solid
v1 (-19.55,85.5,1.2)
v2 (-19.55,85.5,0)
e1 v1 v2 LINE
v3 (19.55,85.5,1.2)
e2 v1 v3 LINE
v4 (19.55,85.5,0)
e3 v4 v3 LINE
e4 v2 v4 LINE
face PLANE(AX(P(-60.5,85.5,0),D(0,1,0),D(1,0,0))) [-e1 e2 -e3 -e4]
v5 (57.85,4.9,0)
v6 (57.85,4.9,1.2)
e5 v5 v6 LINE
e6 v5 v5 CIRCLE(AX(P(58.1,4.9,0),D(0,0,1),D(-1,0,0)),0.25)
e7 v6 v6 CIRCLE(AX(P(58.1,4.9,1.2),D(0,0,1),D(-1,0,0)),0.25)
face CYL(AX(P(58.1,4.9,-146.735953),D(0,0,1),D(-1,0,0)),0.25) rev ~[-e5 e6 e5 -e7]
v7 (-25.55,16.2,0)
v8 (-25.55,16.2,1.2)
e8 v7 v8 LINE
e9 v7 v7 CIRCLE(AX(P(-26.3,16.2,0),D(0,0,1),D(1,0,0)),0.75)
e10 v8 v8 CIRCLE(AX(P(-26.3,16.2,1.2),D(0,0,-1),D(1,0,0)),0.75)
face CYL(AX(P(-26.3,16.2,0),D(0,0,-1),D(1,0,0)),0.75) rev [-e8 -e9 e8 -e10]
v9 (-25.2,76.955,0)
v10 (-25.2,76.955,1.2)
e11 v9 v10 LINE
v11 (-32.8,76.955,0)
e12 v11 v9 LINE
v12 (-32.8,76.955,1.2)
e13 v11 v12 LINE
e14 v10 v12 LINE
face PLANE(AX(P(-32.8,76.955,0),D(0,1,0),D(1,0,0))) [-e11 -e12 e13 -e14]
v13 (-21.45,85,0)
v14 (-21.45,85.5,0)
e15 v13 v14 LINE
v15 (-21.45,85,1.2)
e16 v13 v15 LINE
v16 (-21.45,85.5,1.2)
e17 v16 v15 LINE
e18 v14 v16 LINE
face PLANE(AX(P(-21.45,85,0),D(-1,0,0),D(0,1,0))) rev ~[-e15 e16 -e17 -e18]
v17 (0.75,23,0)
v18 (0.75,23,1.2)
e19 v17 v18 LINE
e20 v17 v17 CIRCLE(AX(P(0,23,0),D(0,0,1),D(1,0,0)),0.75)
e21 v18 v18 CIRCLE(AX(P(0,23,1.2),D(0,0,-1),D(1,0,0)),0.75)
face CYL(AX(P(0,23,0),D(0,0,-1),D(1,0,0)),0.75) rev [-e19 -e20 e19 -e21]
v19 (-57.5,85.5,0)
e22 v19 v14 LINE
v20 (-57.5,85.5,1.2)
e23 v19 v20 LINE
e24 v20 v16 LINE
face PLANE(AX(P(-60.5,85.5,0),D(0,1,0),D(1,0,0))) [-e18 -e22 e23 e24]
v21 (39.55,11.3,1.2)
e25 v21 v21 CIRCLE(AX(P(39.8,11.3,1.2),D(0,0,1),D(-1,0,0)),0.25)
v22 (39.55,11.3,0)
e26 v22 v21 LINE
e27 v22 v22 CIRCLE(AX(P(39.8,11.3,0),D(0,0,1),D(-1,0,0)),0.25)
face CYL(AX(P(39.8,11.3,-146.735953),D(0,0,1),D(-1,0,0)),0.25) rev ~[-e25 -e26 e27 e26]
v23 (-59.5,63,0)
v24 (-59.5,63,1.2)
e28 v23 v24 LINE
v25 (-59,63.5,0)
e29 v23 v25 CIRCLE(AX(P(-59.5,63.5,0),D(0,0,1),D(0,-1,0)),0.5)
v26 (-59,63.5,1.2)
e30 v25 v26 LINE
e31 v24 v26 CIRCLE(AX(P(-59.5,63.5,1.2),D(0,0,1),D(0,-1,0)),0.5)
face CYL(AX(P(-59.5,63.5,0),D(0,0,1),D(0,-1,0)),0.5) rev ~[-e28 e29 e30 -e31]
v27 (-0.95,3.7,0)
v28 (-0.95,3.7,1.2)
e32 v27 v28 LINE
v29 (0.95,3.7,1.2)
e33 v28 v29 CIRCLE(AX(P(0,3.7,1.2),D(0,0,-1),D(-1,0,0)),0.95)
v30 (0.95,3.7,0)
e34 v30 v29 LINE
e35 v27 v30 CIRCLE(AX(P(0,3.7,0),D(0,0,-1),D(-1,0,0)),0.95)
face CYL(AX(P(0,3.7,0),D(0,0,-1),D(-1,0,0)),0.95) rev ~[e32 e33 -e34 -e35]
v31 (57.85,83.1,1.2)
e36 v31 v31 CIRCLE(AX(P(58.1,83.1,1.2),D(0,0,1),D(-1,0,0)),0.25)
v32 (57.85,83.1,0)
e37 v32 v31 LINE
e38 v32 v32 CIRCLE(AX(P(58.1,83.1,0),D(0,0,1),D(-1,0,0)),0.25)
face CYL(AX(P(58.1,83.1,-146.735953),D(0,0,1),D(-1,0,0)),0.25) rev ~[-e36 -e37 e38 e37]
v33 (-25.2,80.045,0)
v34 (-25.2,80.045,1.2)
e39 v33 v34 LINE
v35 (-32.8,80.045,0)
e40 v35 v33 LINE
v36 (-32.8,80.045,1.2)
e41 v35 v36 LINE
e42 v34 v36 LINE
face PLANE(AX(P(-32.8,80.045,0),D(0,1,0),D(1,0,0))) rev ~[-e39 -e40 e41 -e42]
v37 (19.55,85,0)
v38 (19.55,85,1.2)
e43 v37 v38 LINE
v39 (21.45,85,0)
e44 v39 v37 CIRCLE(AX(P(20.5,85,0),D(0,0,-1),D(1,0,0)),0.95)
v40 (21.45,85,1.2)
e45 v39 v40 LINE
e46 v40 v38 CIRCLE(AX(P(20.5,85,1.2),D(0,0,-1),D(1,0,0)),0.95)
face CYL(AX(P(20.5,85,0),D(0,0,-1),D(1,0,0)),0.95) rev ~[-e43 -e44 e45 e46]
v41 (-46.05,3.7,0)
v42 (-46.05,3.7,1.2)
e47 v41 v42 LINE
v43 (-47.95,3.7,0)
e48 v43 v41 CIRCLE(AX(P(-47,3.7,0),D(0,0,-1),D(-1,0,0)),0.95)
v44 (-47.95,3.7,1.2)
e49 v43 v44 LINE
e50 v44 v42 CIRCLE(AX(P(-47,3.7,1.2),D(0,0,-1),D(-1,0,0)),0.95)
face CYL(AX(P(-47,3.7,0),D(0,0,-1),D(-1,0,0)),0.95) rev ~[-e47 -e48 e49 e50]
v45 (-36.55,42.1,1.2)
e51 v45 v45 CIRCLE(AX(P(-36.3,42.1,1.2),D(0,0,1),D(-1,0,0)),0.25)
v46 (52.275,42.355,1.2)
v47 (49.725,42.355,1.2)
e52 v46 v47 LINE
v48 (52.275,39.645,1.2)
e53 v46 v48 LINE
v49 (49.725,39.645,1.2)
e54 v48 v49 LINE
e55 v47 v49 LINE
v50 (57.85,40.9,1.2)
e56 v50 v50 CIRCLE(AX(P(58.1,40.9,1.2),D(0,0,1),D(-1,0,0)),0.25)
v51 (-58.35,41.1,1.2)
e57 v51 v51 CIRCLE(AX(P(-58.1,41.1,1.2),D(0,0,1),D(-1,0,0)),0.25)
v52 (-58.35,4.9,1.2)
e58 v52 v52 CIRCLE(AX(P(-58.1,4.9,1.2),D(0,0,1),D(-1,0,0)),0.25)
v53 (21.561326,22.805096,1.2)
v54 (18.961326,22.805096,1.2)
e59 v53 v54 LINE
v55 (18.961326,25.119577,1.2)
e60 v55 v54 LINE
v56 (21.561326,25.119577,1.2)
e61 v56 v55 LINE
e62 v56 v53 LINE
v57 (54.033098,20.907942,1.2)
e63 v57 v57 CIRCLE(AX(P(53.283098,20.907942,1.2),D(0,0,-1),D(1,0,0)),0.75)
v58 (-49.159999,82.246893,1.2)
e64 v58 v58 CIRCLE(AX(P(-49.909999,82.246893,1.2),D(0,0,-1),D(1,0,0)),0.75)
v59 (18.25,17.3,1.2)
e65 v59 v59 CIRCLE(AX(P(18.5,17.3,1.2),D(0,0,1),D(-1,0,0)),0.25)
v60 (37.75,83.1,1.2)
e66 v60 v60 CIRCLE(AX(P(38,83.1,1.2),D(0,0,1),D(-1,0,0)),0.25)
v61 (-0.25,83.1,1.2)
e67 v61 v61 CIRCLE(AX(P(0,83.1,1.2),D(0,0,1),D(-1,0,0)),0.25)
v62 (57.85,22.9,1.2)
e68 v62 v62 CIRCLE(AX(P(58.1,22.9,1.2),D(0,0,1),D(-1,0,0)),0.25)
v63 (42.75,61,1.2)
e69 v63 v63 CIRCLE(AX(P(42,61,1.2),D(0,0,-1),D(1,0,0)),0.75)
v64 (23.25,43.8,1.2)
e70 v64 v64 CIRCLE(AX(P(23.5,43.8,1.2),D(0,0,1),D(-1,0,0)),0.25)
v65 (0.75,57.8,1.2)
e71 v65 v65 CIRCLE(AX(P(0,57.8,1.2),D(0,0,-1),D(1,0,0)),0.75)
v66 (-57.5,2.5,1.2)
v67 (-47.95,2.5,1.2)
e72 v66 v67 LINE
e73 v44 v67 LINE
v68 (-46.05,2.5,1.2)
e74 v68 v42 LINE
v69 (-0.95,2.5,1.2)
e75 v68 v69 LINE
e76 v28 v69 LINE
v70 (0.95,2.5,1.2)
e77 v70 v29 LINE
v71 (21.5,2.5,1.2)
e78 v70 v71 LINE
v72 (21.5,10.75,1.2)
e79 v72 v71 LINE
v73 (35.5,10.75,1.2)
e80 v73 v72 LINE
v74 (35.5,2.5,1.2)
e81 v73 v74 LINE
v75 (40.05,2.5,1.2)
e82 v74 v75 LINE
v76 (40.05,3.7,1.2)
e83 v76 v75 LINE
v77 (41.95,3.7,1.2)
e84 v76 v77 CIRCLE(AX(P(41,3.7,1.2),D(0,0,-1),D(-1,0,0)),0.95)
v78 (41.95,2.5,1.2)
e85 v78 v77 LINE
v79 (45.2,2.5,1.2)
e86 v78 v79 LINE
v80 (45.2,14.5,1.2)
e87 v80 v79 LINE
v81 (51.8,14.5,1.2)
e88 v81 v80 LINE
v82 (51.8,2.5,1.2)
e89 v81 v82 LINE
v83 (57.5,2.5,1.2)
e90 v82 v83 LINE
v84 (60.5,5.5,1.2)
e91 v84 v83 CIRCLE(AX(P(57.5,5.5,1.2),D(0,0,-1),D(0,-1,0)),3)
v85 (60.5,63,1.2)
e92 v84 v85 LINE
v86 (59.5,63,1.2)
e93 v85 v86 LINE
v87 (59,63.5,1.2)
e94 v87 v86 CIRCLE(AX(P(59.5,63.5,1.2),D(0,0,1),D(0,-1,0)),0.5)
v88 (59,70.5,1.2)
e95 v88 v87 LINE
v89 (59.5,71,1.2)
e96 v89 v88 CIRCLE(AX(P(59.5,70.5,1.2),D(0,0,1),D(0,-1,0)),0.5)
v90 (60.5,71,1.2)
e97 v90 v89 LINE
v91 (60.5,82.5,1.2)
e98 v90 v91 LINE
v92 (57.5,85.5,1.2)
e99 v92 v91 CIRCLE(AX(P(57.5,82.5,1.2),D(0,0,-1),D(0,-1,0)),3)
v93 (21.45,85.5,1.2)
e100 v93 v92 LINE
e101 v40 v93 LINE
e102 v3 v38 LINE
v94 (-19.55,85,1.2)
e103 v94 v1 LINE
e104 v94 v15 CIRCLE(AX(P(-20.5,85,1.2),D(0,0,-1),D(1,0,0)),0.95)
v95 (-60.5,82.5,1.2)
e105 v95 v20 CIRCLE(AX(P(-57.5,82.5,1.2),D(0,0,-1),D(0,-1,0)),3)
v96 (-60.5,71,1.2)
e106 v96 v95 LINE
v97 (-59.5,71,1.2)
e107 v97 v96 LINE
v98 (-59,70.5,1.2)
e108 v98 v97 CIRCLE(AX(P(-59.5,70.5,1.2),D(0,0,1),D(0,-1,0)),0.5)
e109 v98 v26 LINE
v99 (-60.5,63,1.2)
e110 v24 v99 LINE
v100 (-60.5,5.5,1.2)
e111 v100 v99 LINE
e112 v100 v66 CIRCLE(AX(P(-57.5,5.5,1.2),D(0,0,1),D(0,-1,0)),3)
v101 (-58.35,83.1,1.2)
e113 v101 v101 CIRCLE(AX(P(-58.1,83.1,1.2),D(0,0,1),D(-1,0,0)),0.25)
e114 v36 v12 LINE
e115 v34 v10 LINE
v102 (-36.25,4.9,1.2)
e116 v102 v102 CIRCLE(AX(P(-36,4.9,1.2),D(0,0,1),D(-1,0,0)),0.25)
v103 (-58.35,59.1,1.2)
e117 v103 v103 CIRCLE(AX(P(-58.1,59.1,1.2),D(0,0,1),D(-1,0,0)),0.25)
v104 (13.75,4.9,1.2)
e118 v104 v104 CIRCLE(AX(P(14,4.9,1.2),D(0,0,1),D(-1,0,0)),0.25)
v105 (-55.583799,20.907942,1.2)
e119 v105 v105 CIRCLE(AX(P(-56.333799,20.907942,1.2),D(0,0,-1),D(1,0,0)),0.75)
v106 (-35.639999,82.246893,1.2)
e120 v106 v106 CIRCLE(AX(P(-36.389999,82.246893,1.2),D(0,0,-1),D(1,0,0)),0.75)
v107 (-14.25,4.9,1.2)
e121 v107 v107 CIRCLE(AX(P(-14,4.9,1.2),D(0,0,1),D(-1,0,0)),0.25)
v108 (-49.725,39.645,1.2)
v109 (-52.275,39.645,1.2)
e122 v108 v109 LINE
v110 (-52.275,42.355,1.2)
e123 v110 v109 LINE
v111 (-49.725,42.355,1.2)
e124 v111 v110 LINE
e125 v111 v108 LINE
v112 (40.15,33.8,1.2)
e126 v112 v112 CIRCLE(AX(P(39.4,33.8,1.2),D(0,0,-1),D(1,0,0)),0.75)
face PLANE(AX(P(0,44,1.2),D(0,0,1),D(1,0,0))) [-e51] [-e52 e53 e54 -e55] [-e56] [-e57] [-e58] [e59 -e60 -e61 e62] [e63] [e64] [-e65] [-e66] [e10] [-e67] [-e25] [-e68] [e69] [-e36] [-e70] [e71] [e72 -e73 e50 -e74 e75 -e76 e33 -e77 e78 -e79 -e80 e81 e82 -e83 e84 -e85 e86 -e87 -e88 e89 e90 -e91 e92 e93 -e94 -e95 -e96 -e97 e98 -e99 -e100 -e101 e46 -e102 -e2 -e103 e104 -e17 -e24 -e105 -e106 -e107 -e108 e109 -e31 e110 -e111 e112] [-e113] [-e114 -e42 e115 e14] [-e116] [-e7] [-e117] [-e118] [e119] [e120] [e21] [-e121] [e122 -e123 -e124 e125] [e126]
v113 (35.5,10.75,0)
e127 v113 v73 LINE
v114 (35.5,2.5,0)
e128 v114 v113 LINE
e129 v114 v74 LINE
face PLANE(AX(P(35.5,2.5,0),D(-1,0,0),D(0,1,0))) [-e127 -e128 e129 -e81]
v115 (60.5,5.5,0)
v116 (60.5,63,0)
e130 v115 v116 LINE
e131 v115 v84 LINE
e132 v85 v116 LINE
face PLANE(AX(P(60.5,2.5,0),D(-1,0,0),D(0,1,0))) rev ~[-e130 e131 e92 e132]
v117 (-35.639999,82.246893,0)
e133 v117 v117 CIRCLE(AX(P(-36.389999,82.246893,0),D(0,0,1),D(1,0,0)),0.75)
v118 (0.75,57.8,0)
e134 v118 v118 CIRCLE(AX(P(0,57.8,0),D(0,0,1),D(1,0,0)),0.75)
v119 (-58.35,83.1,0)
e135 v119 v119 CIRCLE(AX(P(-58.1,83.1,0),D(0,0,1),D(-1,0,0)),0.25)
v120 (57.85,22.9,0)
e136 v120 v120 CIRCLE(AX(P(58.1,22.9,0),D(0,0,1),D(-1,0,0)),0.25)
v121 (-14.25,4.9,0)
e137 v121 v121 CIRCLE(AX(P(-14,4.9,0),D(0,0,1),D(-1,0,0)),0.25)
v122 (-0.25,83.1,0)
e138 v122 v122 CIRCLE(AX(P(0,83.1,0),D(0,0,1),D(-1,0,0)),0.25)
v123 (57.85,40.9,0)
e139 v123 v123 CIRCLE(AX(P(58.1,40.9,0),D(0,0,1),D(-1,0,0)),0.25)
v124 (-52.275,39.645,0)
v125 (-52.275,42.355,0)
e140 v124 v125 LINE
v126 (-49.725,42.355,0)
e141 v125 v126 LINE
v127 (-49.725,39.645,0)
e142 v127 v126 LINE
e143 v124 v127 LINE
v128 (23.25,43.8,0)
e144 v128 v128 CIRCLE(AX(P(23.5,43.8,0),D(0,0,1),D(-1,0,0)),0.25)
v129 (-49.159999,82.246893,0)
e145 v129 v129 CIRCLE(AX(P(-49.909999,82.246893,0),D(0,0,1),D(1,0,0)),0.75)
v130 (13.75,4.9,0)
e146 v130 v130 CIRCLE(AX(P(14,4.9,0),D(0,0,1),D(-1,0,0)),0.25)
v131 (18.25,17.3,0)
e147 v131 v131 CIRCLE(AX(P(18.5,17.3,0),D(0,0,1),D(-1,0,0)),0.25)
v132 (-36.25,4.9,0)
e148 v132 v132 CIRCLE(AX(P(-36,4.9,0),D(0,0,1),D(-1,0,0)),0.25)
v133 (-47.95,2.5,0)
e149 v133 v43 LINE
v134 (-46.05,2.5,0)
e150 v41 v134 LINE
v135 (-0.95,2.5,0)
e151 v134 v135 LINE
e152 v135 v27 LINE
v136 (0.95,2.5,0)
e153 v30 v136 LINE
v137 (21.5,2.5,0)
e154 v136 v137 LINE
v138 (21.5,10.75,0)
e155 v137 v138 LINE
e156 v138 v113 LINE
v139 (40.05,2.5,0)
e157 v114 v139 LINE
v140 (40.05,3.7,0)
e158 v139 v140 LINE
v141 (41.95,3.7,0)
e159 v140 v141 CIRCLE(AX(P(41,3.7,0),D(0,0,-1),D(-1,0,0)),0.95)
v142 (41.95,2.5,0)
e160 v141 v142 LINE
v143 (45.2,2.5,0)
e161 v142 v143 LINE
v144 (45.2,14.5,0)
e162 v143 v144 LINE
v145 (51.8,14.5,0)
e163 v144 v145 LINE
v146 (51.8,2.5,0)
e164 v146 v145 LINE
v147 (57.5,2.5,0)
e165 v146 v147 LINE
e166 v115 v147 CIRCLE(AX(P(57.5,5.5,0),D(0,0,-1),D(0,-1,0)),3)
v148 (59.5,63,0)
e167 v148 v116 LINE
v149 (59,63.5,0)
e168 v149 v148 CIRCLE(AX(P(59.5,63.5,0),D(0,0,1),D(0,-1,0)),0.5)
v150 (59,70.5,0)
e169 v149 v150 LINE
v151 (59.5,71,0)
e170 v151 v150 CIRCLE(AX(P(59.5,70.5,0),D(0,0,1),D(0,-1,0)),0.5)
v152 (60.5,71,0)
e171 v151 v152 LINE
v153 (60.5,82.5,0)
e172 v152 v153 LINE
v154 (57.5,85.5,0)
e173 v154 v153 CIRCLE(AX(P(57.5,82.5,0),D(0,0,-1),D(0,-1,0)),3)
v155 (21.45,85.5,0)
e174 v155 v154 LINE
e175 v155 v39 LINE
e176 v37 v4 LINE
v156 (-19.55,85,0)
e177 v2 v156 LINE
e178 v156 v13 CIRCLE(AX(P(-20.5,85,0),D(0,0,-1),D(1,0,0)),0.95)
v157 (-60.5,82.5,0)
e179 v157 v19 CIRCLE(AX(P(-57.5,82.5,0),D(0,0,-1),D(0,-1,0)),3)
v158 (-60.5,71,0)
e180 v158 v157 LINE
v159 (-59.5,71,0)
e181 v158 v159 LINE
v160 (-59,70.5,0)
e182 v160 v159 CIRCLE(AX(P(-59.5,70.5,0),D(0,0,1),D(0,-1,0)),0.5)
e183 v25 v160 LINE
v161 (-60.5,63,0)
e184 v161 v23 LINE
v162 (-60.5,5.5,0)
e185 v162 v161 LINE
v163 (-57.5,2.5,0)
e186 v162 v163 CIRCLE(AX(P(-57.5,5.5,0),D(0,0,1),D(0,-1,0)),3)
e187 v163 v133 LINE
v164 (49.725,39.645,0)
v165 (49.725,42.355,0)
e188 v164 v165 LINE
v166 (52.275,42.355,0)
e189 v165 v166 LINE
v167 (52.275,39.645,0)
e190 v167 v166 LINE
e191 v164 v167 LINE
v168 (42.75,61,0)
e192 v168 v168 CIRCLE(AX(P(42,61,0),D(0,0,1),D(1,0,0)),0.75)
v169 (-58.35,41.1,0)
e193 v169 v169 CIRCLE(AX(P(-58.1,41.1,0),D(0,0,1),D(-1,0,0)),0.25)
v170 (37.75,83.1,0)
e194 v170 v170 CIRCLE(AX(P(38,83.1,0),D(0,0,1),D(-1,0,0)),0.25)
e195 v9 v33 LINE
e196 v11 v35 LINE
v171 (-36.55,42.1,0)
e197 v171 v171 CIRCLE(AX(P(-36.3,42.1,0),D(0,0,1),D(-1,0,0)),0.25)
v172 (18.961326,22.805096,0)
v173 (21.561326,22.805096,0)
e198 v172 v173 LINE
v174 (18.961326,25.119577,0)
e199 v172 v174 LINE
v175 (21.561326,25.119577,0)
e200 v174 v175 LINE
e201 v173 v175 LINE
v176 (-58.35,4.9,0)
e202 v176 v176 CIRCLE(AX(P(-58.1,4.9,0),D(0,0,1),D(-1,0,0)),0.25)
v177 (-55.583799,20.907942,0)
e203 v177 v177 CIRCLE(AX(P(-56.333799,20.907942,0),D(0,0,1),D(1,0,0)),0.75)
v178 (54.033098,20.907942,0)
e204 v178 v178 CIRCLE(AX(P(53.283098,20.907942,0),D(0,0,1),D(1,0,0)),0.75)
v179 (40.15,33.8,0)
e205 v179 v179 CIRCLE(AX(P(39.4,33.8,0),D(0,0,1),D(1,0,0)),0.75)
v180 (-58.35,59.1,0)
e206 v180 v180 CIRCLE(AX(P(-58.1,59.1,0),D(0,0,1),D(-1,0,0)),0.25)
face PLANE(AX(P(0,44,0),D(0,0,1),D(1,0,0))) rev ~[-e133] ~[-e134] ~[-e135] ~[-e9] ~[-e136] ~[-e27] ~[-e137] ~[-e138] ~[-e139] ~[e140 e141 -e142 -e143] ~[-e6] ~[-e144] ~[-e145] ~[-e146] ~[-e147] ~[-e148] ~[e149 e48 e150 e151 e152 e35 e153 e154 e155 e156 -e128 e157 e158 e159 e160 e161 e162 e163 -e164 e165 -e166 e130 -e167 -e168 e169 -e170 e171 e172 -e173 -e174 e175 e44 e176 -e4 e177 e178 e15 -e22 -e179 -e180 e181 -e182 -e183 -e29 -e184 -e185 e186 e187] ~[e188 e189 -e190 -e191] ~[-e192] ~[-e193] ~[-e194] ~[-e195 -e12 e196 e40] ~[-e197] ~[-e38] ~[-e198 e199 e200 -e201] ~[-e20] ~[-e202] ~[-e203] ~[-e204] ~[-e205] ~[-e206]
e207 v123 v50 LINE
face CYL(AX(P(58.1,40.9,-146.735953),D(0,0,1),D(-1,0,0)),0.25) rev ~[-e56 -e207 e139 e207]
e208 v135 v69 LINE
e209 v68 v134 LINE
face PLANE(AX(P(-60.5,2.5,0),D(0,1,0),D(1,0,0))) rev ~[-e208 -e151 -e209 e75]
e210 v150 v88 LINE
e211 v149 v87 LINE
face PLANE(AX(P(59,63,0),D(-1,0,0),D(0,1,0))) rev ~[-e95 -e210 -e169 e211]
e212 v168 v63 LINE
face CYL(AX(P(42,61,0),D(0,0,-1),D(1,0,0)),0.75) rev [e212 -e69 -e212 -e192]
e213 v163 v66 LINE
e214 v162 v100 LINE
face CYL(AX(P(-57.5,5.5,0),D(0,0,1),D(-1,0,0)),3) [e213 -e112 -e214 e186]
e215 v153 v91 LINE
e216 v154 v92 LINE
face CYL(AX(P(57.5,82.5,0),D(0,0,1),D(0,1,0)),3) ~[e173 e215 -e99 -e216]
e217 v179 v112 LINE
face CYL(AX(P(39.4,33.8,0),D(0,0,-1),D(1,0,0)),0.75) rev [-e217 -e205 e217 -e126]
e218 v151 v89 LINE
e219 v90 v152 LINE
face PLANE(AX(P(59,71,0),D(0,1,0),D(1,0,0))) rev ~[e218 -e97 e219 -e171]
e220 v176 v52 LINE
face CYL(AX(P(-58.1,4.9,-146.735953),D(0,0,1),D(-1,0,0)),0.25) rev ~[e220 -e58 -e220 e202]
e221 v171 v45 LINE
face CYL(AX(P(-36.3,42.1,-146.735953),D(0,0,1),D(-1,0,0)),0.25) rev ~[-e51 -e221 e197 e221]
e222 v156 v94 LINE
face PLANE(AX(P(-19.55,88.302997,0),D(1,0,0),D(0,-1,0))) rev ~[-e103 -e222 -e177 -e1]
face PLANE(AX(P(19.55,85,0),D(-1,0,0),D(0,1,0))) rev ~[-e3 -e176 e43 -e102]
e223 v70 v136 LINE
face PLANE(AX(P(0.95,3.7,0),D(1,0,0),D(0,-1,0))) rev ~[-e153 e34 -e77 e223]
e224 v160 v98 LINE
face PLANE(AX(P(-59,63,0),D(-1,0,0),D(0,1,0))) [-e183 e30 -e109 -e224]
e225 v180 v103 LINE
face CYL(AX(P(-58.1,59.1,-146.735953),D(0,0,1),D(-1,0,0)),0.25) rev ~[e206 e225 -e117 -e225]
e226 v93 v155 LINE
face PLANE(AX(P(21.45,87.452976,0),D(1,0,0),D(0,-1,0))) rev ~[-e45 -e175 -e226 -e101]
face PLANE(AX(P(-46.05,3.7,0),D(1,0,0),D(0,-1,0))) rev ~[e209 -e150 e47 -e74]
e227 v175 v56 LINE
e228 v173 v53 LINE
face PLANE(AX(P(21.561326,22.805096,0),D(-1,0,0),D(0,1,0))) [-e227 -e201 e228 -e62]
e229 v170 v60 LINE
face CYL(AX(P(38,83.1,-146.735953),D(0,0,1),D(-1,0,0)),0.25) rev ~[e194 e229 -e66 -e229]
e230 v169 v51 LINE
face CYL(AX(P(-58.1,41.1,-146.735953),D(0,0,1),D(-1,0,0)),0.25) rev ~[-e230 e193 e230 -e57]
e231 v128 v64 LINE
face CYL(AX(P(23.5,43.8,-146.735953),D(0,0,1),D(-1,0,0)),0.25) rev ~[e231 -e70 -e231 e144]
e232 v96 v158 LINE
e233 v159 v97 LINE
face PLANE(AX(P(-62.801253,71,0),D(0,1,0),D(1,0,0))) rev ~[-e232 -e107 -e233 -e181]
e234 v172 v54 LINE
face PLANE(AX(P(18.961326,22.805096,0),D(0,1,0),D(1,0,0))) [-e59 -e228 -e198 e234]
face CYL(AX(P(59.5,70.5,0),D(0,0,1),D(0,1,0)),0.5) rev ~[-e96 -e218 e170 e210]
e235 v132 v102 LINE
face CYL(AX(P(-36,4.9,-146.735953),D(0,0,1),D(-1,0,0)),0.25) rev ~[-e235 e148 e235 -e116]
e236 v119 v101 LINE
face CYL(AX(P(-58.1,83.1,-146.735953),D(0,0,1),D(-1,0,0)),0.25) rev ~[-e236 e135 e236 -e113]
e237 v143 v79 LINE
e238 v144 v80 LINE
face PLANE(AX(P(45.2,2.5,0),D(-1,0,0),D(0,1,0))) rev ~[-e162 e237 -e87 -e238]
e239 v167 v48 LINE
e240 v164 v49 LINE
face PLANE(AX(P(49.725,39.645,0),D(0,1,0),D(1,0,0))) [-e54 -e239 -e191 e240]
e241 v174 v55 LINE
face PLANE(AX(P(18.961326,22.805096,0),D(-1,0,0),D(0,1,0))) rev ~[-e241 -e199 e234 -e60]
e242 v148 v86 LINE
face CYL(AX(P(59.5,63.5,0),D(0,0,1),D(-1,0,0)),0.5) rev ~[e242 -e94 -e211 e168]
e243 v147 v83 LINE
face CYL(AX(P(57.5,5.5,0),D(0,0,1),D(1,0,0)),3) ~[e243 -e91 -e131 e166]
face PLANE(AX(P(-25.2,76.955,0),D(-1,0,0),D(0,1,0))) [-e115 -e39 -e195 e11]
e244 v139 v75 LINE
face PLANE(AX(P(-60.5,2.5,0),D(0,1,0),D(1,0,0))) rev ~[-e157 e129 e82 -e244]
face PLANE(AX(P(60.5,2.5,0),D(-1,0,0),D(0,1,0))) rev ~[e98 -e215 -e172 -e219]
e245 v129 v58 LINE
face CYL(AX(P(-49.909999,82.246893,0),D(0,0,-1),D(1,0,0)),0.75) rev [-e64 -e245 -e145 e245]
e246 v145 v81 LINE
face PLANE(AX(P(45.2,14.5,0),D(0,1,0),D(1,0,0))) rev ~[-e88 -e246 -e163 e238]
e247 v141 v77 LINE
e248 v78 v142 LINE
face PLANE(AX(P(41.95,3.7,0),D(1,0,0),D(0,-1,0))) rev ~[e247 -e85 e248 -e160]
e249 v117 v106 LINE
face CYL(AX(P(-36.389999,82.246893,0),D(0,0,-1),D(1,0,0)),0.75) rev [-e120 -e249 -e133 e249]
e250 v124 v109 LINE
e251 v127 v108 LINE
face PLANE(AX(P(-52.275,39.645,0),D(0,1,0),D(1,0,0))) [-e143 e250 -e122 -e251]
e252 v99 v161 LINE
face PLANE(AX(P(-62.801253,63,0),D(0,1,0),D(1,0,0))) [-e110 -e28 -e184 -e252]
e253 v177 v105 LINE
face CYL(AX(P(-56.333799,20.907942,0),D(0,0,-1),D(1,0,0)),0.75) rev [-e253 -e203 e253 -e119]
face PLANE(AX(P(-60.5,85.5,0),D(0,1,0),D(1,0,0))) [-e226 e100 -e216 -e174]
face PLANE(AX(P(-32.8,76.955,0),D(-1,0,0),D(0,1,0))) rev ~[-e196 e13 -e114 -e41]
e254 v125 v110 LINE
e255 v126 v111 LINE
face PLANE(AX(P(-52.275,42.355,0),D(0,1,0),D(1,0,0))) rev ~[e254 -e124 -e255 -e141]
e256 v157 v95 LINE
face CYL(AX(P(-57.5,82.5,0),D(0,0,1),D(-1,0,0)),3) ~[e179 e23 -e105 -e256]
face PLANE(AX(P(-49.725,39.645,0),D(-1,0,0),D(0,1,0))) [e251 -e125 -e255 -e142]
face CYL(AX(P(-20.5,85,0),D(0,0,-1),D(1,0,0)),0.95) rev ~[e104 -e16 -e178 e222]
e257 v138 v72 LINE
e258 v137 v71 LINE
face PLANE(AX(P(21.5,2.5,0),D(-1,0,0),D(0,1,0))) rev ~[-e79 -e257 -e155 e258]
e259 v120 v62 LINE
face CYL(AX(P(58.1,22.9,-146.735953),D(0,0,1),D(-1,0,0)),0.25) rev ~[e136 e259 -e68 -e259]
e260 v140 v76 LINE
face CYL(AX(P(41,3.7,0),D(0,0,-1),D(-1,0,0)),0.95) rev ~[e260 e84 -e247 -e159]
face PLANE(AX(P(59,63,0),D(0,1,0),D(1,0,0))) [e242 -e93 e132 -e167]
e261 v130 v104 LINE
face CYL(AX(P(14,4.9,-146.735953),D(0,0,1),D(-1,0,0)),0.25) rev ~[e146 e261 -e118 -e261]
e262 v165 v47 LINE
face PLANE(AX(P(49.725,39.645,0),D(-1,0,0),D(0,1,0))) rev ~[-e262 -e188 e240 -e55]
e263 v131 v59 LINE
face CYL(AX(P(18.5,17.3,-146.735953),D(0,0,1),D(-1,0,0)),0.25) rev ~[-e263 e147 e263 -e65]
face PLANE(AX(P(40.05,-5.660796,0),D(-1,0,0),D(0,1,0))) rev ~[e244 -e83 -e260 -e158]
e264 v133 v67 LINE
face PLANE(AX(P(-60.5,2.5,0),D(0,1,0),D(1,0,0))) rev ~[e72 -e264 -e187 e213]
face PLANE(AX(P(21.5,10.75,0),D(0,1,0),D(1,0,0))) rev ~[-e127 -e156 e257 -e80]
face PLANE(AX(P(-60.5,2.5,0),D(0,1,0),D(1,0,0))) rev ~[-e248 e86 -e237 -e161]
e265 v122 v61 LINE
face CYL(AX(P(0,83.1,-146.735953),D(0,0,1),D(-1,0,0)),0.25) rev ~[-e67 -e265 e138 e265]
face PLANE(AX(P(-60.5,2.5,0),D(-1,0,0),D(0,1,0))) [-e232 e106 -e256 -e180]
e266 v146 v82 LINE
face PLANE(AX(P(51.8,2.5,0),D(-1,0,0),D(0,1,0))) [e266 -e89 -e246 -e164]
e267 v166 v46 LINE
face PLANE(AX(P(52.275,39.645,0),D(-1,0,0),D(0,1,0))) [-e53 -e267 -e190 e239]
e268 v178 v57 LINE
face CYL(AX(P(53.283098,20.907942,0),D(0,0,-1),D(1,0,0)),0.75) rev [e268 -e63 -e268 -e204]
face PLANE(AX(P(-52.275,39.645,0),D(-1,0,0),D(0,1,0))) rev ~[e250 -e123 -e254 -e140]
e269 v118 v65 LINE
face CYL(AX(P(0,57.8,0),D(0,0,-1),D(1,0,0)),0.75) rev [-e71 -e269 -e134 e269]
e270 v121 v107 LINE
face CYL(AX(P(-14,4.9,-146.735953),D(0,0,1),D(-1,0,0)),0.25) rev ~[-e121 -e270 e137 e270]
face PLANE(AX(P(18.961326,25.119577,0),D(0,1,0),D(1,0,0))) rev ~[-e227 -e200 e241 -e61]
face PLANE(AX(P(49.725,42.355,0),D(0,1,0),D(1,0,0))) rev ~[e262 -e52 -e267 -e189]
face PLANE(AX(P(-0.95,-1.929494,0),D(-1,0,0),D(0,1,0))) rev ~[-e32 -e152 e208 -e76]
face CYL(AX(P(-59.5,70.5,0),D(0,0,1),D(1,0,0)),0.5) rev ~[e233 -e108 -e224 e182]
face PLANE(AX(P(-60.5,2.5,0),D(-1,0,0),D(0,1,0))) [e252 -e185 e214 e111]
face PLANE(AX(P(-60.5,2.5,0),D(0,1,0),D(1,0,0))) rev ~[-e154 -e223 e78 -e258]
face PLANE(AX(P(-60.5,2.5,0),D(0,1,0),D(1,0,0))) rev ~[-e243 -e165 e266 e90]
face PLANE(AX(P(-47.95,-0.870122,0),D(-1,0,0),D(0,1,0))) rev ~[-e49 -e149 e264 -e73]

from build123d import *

# Parameters (mm, degrees)
SKIZZE1_W                        = 121
SKIZZE1_H                        = 83
AUFSATZ_LINEAR_AUSTRAGEN1_DEPTH  = 1.2
SKIZZE2_R                        = 0.75
SKIZZE2_W                        = 14
SKIZZE2_H                        = 8.25
SKIZZE2_W_2                      = 2.55
SKIZZE2_H_2                      = 2.71
SKIZZE2_W_3                      = 6.6
SKIZZE2_H_3                      = 12
SKIZZE2_W_4                      = 7.6
SKIZZE2_H_4                      = 3.09
SKIZZE2_W_5                      = 2.6
SKIZZE2_H_5                      = 2.314480995
SCHNITT_LINEAR_AUSTRAGEN1_DEPTH  = 105.747028597
F_0_5_0_5_DURCHMESSER_BOHRUNG1_D = 0.5
VERRUNDUNG1_R                    = 3
SCHNITT_LINEAR_AUSTRAGEN2_DEPTH  = 105.747028597
SKIZZE8_W                        = 3.801252581
SKIZZE8_H                        = 8
SKIZZE8_W_2                      = 2.67743865
SCHNITT_LINEAR_AUSTRAGEN3_DEPTH  = 105.747028597
VERRUNDUNG2_R                    = 0.5


with BuildPart() as part:
    # Skizze1 → Aufsatz-Linear austragen1 (new body)
    with BuildSketch(Plane.XY):
        with Locations((0, 44)):
            Rectangle(SKIZZE1_W, SKIZZE1_H)
    extrude(amount=AUFSATZ_LINEAR_AUSTRAGEN1_DEPTH)

    # Skizze2 → Schnitt-Linear austragen1 (cut, through all)
    with BuildSketch(Plane.XY):
        with Locations((42, 61)):
            Circle(SKIZZE2_R)
        with Locations((0, 57.8)):
            Circle(SKIZZE2_R)
        with Locations((0, 23)):
            Circle(SKIZZE2_R)
        with Locations((39.4, 33.8)):
            Circle(SKIZZE2_R)
        with Locations((-26.3, 16.2)):
            Circle(SKIZZE2_R)
        with Locations((-36.389998649, 82.246892958)):
            Circle(SKIZZE2_R)
        with Locations((-49.909999351, 82.246892958)):
            Circle(SKIZZE2_R)
        with Locations((-56.333799461, 20.907941573)):
            Circle(SKIZZE2_R)
        with Locations((53.283097528, 20.907941573)):
            Circle(SKIZZE2_R)
        with Locations((28.5, 6.625)):
            Rectangle(SKIZZE2_W, SKIZZE2_H)
        with Locations((-51, 41)):
            Rectangle(SKIZZE2_W_2, SKIZZE2_H_2)
        with Locations((51, 41)):
            Rectangle(SKIZZE2_W_2, SKIZZE2_H_2)
        with Locations((48.5, 8.5)):
            Rectangle(SKIZZE2_W_3, SKIZZE2_H_3)
        with Locations((-29, 78.5)):
            Rectangle(SKIZZE2_W_4, SKIZZE2_H_4)
        with Locations((20.261326432, 23.962336547)):
            Rectangle(SKIZZE2_W_5, SKIZZE2_H_5)
    extrude(amount=SCHNITT_LINEAR_AUSTRAGEN1_DEPTH, mode=Mode.SUBTRACT)

    # Ø0.5 (0.5) Durchmesser Bohrung1 (through all)
    with Locations(Plane(origin=(0, 0, 0), x_dir=(1, 0, 0), z_dir=(0, 0, -1))):
        with Locations((58.1, -83.1), (38, -83.1), (0, -83.1), (-58.1, -83.1), (-58.1, -59.1), (-58.1, -41.1), (-36.3, -42.1), (-58.1, -4.9), (-36, -4.9), (-14, -4.9), (14, -4.9), (58.1, -4.9), (39.8, -11.3), (58.1, -40.9), (58.1, -22.9), (23.5, -43.8), (18.5, -17.3)):
            Hole(F_0_5_0_5_DURCHMESSER_BOHRUNG1_D / 2)

    # Verrundung1
    verrundung1_edges = [part.edges().sort_by_distance(p)[0] for p in [
        (-60.5, 2.5, 0.6),
        (-60.5, 85.5, 0.6),
        (60.5, 85.5, 0.6),
        (60.5, 2.5, 0.6),
    ]]
    fillet(verrundung1_edges, radius=VERRUNDUNG1_R)

    # Skizze7 → Schnitt-Linear austragen2 (cut, through all)
    with BuildSketch(Plane.XY):
        with BuildLine():
            Line((19.55, 85), (19.55, 87.452976337))
            ThreePointArc((19.55, 87.452976337), (20.5, 88.402976337), (21.45, 87.452976337))
            Line((21.45, 87.452976337), (21.45, 85))
            ThreePointArc((21.45, 85), (20.5, 84.05), (19.55, 85))
        make_face()
        with BuildLine():
            Line((-21.45, 85), (-21.45, 88.302996714))
            ThreePointArc((-21.45, 88.302996714), (-20.5, 89.252996714), (-19.55, 88.302996714))
            Line((-19.55, 88.302996714), (-19.55, 85))
            ThreePointArc((-19.55, 85), (-20.5, 84.05), (-21.45, 85))
        make_face()
        with BuildLine():
            Line((41.95, 3.7), (41.95, -5.660796072))
            ThreePointArc((41.95, -5.660796072), (41, -6.610796072), (40.05, -5.660796072))
            Line((40.05, -5.660796072), (40.05, 3.7))
            ThreePointArc((40.05, 3.7), (41, 4.65), (41.95, 3.7))
        make_face()
        with BuildLine():
            Line((0.95, 3.7), (0.95, -1.929493841))
            ThreePointArc((0.95, -1.929493841), (0, -2.879493841), (-0.95, -1.929493841))
            Line((-0.95, -1.929493841), (-0.95, 3.7))
            ThreePointArc((-0.95, 3.7), (0, 4.65), (0.95, 3.7))
        make_face()
        with BuildLine():
            Line((-46.05, 3.7), (-46.05, -0.870122008))
            ThreePointArc((-46.05, -0.870122008), (-47, -1.820122008), (-47.95, -0.870122008))
            Line((-47.95, -0.870122008), (-47.95, 3.7))
            ThreePointArc((-47.95, 3.7), (-47, 4.65), (-46.05, 3.7))
        make_face()
    extrude(amount=SCHNITT_LINEAR_AUSTRAGEN2_DEPTH, mode=Mode.SUBTRACT)

    # Skizze8 → Schnitt-Linear austragen3 (cut, through all)
    with BuildSketch(Plane.XY):
        with Locations((-60.900626291, 67)):
            Rectangle(SKIZZE8_W, SKIZZE8_H)
        with Locations((60.338719325, 67)):
            Rectangle(SKIZZE8_W_2, SKIZZE8_H)
    extrude(amount=SCHNITT_LINEAR_AUSTRAGEN3_DEPTH, mode=Mode.SUBTRACT)

    # Verrundung2
    verrundung2_edges = [part.edges().sort_by_distance(p)[0] for p in [
        (-59, 71, 0.6),
        (-59, 63, 0.6),
        (59, 63, 0.6),
        (59, 71, 0.6),
    ]]
    fillet(verrundung2_edges, radius=VERRUNDUNG2_R)


solid = part.part
